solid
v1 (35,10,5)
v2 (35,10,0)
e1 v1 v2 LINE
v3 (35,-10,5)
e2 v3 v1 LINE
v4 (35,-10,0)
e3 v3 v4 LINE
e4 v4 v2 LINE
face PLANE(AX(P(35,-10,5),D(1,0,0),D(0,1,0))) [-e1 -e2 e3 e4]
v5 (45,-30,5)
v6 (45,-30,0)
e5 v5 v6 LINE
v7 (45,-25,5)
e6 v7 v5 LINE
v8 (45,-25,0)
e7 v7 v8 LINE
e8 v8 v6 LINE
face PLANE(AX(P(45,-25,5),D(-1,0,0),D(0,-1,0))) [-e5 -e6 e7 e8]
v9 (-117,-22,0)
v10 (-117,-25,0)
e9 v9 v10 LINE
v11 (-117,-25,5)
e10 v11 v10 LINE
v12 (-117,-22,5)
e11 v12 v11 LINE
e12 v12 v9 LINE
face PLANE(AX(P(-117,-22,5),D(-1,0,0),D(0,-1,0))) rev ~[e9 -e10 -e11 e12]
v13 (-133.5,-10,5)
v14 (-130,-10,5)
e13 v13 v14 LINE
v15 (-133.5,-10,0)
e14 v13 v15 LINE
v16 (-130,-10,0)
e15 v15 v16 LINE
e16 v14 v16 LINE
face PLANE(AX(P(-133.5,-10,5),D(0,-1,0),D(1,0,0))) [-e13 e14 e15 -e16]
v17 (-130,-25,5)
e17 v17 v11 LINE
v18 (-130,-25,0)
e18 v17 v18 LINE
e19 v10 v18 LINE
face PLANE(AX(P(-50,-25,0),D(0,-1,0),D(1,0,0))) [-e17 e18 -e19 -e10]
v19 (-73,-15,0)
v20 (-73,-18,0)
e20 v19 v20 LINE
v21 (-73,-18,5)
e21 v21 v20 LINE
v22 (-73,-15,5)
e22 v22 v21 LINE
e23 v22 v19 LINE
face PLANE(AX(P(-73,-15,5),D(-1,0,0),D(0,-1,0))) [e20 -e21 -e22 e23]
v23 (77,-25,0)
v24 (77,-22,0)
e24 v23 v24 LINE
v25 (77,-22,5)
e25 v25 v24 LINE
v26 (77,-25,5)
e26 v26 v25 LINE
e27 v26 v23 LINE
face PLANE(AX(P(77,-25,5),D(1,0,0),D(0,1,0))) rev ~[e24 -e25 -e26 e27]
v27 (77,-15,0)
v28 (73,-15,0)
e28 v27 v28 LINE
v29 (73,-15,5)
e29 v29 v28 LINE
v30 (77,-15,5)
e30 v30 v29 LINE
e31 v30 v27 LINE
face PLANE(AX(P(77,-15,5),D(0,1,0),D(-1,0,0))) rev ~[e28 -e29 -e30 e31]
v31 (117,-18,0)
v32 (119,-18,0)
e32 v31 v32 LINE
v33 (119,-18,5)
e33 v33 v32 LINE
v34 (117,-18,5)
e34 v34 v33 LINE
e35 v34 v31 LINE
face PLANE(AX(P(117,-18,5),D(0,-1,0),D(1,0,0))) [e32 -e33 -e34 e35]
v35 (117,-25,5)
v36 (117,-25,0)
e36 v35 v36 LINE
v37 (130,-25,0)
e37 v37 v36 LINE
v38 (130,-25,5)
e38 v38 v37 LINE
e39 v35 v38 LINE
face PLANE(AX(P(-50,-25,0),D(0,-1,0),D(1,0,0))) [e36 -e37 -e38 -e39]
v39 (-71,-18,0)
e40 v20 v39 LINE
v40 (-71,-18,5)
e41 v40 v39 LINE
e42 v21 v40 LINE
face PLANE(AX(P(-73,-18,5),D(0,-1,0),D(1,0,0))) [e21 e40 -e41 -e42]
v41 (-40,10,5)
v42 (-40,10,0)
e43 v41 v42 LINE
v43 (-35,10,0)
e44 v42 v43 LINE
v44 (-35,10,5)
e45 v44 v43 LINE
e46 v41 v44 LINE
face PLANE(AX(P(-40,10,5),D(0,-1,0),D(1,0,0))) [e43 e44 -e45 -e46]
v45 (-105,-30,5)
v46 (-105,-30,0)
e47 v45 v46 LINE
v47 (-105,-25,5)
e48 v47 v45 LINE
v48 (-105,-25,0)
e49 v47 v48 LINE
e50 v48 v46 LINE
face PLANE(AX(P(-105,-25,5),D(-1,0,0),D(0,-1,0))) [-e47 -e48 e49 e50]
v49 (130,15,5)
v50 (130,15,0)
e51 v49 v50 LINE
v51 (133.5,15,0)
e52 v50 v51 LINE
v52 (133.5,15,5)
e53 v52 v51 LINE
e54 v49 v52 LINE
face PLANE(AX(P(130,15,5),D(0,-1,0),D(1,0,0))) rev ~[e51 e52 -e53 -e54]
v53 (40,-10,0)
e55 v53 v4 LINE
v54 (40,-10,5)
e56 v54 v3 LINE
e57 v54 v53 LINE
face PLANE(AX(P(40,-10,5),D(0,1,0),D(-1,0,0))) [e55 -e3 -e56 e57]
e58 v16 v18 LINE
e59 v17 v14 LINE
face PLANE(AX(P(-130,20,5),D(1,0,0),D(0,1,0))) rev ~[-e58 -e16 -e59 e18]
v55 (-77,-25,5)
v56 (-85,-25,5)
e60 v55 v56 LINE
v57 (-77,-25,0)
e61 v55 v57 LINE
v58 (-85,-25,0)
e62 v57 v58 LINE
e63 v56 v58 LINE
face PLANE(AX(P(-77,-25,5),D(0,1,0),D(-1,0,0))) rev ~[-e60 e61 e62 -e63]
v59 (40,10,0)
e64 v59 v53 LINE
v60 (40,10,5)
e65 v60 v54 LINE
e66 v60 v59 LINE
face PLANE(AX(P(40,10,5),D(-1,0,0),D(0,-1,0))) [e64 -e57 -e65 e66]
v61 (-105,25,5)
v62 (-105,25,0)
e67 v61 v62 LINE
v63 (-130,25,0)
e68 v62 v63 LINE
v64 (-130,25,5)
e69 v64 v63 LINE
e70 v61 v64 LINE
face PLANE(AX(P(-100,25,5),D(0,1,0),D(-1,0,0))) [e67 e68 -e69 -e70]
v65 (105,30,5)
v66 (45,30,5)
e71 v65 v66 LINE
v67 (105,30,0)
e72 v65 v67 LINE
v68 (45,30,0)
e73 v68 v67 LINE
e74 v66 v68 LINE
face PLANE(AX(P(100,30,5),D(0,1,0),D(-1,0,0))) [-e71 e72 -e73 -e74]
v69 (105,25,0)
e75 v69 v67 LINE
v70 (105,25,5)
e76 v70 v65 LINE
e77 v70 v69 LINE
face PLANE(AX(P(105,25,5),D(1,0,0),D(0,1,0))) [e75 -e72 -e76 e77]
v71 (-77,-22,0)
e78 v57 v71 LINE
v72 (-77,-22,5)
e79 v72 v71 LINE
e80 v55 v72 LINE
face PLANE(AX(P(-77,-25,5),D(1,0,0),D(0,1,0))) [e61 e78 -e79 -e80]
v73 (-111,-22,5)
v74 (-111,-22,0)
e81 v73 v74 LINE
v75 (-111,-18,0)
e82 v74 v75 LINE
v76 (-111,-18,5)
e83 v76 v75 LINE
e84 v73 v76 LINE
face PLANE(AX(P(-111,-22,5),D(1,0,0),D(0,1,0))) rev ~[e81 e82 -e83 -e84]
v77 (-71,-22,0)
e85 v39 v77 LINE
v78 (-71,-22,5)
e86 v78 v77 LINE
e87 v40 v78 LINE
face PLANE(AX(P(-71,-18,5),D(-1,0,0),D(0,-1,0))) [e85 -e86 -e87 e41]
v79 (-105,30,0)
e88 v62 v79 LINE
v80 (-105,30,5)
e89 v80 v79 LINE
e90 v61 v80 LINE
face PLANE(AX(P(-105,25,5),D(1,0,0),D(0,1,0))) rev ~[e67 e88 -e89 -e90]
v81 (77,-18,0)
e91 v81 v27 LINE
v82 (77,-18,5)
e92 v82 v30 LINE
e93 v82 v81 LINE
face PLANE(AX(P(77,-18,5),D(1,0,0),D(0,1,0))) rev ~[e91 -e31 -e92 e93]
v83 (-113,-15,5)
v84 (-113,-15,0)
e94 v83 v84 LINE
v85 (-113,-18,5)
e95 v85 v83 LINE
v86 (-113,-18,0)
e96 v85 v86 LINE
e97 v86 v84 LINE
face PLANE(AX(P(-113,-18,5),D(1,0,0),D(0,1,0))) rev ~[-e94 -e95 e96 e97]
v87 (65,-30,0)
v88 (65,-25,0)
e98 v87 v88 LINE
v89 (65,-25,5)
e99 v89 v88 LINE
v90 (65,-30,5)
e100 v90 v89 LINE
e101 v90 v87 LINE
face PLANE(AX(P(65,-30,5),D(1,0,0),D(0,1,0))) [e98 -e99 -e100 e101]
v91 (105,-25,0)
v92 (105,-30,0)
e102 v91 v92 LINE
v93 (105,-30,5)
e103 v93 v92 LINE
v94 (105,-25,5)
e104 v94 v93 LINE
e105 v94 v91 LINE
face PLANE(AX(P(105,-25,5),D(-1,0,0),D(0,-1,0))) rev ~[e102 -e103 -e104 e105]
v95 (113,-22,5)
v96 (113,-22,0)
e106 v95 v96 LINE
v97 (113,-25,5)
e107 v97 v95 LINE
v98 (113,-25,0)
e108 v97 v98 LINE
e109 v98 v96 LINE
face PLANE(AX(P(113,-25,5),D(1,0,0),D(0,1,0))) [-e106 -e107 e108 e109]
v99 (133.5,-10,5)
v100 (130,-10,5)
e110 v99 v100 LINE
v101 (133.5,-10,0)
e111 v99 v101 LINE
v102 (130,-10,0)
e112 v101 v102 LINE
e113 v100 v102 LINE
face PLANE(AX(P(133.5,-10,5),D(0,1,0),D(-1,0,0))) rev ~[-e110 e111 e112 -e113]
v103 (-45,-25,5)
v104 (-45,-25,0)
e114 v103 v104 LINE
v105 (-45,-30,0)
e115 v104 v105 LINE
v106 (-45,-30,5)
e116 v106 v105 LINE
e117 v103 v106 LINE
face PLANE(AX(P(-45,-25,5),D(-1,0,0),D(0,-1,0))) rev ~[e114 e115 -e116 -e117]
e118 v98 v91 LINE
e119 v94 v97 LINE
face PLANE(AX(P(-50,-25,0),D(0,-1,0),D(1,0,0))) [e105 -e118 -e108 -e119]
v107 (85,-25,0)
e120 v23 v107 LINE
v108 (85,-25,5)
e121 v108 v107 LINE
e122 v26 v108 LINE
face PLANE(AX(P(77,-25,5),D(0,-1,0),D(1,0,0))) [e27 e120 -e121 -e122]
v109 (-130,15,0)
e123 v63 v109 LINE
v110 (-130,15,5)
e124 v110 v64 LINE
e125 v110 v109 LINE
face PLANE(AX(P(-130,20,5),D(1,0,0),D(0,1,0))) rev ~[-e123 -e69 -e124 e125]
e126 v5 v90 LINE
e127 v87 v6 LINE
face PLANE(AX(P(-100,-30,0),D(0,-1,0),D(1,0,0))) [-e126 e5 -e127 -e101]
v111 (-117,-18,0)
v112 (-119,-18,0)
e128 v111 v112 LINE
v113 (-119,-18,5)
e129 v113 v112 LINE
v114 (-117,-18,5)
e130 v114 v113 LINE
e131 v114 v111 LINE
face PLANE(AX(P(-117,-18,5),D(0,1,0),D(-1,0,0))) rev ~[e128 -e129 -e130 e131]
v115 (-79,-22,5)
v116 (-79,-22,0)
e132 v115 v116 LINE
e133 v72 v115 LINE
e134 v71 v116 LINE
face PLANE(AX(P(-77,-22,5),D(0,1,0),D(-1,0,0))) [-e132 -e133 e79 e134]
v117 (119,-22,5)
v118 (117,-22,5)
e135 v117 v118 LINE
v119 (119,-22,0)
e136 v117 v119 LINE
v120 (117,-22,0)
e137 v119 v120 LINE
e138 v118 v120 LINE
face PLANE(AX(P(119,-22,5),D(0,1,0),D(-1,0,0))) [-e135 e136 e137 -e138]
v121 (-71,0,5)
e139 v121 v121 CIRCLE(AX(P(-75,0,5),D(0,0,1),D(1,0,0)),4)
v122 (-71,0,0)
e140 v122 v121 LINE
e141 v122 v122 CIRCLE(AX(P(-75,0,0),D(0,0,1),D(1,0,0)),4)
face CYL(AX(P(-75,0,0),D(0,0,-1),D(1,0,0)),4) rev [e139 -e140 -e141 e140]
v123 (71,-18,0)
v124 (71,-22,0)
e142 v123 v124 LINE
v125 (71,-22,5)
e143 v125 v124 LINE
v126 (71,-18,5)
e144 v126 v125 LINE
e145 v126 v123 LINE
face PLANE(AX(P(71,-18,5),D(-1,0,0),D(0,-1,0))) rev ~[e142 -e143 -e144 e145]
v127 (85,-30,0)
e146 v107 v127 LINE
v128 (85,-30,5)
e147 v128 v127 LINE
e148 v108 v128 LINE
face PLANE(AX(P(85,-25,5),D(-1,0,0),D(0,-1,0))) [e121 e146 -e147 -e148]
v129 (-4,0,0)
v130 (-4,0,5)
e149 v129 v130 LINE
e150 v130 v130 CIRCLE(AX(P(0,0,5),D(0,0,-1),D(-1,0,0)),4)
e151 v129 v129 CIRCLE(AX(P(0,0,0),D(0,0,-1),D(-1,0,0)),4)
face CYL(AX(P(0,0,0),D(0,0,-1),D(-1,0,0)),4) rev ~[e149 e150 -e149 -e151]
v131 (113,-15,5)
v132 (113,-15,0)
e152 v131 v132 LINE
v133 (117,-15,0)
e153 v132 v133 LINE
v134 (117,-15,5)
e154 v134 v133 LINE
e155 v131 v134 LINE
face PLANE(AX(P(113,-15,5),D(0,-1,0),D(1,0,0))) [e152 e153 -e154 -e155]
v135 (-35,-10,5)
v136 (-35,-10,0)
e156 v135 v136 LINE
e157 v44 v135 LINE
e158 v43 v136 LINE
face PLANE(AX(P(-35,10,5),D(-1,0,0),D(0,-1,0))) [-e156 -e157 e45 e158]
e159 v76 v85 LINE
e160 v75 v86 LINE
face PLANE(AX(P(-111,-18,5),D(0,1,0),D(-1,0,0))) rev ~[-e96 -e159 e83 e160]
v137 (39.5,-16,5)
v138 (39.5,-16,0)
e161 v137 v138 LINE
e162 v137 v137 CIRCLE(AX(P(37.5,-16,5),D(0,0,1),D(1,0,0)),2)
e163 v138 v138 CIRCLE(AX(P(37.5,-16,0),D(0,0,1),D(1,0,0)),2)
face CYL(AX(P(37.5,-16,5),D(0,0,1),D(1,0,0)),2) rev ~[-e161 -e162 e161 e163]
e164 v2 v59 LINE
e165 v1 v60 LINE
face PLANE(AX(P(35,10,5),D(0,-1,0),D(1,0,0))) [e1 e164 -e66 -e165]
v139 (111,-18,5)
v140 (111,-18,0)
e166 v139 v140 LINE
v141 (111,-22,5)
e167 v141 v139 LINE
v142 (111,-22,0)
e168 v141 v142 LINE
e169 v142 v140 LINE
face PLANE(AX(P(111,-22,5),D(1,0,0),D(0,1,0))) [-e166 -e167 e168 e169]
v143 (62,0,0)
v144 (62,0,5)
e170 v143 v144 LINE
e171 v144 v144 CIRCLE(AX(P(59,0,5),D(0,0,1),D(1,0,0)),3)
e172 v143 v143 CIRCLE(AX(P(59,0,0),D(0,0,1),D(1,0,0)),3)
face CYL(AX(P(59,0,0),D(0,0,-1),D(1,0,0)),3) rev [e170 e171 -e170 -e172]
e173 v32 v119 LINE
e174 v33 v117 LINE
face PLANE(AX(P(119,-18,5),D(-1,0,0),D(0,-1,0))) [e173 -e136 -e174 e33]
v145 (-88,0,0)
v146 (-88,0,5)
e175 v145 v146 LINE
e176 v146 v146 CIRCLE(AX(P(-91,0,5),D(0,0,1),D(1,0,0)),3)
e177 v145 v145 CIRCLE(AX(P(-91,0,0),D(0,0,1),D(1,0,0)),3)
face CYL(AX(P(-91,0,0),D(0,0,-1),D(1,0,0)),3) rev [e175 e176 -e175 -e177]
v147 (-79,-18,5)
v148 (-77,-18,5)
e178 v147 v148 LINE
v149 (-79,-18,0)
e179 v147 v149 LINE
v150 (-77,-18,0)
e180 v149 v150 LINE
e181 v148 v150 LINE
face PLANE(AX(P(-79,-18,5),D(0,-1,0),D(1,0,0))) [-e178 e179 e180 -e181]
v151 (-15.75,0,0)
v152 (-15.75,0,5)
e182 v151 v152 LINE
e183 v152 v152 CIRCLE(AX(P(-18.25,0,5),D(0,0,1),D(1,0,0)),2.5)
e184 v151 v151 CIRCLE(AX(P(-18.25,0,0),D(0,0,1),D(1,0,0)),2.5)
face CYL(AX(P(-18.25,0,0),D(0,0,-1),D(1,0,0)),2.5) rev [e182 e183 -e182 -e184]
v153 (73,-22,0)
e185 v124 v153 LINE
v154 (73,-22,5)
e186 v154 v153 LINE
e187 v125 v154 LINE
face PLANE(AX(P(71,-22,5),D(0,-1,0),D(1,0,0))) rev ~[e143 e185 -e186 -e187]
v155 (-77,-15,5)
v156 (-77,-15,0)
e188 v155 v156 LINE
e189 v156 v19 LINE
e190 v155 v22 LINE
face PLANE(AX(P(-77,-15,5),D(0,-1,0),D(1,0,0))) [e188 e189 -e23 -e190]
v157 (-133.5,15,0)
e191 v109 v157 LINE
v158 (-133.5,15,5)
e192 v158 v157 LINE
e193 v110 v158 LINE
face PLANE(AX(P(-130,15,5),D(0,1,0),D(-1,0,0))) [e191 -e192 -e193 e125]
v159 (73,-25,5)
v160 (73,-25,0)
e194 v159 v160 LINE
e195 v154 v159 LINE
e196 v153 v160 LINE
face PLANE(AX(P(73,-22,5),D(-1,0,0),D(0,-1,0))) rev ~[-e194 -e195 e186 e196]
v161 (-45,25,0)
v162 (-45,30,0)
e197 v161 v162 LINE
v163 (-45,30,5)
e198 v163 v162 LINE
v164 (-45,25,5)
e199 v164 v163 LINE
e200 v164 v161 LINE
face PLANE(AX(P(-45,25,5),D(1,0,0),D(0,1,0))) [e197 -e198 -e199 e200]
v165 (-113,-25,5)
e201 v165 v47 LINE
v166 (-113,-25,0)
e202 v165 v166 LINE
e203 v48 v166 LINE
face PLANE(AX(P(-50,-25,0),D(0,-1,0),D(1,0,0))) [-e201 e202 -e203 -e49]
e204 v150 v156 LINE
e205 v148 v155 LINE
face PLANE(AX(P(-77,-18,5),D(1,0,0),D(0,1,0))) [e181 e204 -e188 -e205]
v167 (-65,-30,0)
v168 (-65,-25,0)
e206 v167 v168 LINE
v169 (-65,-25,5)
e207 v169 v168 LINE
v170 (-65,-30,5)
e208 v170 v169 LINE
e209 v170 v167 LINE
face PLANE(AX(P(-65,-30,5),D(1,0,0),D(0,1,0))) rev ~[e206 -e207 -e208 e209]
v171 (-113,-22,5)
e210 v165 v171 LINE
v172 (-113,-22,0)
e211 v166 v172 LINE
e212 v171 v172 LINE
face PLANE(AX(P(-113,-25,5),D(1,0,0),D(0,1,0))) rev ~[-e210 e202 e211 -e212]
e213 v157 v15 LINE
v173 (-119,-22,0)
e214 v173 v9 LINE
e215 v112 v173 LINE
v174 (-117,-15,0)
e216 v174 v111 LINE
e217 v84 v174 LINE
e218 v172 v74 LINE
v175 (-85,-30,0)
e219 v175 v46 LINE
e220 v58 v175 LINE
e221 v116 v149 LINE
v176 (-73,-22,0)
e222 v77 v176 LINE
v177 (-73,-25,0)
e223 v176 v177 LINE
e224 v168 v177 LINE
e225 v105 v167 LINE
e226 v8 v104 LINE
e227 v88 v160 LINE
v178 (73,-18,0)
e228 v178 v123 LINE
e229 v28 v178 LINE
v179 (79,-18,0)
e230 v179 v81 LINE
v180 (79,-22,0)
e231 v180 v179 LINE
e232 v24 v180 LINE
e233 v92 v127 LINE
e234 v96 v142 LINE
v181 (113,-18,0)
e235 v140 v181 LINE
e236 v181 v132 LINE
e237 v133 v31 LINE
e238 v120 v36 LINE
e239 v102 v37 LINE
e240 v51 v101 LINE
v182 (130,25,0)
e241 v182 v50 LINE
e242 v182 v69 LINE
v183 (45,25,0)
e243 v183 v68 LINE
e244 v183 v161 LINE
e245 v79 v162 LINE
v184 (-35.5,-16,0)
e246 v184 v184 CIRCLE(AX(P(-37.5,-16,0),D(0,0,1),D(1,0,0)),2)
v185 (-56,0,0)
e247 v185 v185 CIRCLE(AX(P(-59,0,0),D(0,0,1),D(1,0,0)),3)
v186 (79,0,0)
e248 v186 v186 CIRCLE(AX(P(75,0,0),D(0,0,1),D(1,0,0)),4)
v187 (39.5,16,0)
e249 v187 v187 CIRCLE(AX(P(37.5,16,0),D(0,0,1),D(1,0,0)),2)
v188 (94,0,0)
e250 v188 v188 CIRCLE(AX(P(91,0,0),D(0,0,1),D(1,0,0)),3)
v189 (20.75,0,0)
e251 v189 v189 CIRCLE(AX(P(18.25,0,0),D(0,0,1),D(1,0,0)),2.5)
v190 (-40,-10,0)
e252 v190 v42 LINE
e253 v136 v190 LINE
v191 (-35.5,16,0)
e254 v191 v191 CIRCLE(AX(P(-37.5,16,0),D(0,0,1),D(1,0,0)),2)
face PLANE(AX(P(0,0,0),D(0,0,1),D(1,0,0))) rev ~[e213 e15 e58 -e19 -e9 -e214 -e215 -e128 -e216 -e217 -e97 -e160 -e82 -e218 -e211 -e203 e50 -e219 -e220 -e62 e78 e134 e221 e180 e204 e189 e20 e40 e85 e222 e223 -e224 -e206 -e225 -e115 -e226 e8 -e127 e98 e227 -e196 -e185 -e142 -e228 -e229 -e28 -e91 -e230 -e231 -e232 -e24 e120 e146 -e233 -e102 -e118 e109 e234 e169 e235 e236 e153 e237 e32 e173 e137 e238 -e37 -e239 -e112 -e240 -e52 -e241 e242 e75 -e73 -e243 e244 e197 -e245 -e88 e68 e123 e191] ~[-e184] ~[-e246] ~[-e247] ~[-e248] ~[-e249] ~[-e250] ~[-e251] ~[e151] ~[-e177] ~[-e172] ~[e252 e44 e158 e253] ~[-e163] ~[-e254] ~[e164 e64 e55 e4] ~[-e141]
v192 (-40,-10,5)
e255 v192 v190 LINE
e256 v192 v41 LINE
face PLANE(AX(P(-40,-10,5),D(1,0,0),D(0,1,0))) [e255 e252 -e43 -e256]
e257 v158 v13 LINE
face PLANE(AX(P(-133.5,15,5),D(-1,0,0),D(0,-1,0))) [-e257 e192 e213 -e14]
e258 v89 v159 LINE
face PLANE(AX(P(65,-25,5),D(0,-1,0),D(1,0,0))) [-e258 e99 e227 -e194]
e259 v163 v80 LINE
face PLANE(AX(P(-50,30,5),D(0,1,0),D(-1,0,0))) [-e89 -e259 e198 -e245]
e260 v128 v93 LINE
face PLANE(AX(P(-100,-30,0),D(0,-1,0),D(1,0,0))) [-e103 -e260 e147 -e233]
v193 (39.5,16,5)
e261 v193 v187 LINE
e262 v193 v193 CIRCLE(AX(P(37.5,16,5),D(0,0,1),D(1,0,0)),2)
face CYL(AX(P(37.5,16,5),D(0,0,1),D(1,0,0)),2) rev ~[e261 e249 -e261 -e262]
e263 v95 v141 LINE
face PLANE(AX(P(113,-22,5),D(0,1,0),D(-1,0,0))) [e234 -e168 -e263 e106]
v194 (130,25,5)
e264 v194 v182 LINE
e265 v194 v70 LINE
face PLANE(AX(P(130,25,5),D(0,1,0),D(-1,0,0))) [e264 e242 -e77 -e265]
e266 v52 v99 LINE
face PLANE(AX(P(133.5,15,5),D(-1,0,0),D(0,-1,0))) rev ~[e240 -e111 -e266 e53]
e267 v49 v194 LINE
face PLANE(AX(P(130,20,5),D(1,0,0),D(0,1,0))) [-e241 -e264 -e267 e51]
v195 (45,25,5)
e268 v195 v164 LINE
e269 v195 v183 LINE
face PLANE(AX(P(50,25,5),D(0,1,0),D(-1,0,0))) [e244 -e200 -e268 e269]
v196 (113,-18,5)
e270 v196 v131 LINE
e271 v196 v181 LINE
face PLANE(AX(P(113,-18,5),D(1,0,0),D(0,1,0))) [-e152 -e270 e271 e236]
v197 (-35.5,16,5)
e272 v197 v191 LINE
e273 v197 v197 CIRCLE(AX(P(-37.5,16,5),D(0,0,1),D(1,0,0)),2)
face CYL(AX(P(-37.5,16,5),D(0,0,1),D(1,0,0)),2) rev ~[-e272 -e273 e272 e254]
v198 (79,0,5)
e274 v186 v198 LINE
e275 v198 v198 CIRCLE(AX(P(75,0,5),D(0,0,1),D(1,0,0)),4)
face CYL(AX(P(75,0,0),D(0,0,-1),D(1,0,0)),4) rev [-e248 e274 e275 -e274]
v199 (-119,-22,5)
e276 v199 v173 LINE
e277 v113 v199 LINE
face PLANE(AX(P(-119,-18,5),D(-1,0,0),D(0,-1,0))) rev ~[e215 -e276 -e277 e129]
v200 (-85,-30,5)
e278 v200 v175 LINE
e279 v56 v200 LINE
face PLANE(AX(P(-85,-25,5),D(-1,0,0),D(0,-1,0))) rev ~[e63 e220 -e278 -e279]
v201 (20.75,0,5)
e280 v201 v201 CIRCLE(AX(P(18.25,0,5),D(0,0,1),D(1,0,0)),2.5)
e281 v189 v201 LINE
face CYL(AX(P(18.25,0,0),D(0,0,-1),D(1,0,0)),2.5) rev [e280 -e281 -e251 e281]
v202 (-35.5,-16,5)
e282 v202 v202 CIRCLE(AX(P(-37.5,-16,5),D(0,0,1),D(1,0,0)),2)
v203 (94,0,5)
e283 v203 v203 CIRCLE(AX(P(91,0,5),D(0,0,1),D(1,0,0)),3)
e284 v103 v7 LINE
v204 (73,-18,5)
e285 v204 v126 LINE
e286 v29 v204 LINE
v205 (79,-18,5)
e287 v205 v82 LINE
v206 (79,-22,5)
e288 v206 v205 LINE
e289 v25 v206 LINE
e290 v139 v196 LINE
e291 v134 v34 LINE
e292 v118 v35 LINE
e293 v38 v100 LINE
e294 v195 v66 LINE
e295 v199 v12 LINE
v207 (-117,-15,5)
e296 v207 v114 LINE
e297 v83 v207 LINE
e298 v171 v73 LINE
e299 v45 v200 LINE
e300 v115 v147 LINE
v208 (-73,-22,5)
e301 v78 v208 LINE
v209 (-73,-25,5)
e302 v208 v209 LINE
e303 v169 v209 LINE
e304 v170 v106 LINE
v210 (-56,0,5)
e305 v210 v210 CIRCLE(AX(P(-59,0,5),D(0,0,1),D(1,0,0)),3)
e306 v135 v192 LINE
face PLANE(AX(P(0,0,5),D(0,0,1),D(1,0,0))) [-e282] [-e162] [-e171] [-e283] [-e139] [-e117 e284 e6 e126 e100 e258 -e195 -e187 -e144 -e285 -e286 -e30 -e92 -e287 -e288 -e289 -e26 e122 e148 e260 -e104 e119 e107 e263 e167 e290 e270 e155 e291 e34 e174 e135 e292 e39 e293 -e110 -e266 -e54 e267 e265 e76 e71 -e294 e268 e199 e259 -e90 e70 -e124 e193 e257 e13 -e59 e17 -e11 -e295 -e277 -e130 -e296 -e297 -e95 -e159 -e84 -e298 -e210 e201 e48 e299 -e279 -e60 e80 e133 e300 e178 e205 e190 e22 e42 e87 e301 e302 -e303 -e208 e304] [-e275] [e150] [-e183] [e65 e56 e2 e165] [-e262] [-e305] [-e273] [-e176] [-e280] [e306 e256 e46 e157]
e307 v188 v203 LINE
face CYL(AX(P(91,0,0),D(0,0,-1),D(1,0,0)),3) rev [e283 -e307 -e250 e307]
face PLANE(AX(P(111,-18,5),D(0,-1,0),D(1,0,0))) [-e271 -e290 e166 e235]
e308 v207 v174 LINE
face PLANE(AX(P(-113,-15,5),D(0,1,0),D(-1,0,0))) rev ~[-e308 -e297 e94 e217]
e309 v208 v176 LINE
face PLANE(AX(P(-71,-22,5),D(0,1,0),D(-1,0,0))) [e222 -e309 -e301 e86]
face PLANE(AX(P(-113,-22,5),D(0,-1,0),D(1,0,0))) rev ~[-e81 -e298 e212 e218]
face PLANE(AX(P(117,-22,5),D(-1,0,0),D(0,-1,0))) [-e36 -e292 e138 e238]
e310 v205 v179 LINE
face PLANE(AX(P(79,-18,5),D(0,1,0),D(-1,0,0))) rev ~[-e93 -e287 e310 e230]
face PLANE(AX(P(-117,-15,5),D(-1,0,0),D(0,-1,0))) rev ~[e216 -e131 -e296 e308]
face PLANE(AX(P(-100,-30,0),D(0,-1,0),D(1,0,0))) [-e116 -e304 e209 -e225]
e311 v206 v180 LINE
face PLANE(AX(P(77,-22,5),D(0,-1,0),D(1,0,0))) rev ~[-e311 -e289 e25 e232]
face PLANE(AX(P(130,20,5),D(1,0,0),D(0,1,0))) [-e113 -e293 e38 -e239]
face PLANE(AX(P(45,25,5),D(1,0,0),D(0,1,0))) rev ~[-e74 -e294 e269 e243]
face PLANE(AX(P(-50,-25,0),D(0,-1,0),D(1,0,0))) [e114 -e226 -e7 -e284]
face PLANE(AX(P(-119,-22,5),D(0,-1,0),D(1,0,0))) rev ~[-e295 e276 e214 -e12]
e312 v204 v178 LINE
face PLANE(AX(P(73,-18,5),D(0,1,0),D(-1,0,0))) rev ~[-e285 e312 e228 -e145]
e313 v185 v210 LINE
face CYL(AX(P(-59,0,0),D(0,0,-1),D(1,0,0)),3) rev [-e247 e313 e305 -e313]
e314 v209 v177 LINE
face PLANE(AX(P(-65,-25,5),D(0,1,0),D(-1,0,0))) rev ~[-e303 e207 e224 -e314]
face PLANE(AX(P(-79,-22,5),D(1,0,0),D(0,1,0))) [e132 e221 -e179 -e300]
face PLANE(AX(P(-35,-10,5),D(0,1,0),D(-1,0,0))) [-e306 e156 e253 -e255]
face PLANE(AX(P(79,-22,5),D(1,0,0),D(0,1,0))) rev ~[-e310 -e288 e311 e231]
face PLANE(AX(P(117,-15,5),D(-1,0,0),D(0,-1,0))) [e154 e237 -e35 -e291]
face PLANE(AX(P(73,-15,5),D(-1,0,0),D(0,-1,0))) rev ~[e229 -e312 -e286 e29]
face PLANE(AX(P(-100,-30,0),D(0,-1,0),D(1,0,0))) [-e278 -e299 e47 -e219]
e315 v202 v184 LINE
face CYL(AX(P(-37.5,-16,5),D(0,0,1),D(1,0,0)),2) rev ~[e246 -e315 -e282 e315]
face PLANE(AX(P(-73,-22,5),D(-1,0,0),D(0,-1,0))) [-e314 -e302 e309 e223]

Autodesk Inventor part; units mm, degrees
ref_plane "YZ Plane" through (0, 0, 0) normal (1, 0, 0) x (0, 1, 0)
ref_plane "XZ Plane" through (0, 0, 0) normal (0, 1, 0) x (-1, 0, 0)
ref_plane "XY Plane" through (0, 0, 0) normal (0, 0, 1) x (1, 0, 0)
sketch "Sketch1" plane through (0, 0, 0) normal (0, 0, 1) x (1, 0, 0)
  arc A0 (19, -20) -> (20, -19) centre (19, -19) ccw construction
  line L0 (20, -19) -> (20, 19) construction
  arc A1 (20, 19) -> (19, 20) centre (19, 19) ccw construction
  line L1 (19, 20) -> (-19, 20) construction
  arc A2 (-19, 20) -> (-20, 19) centre (-19, 19) ccw construction
  line L2 (-20, 19) -> (-20, -19) construction
  arc A3 (-20, -19) -> (-19, -20) centre (-19, -19) ccw construction
  line L3 (-19, -20) -> (19, -20) construction
  circle A4 centre (-15.5, -15.5) radius 2 construction
  circle A5 centre (15.5, -15.5) radius 2.2846 construction
  circle A6 centre (15.5, 15.5) radius 2 construction
  circle A7 centre (-15.5, 15.5) radius 2 construction
  circle A8 centre (0, 0) radius 11 construction
  line L4 (150, -20) -> (150, 20)
  line L5 (150, 20) -> (-150, 20)
  line L6 (-150, 20) -> (-150, -20)
  line L7 (-150, -20) -> (150, 20) construction
  line L8 (150, -20) -> (-150, 20) construction
  line L9 (50, -20) -> (100, -20) construction
  line L10 (100, -20) -> (100, -25)
  line L11 (100, -25) -> (50, -25)
  line L12 (50, -25) -> (50, -20)
  line L13 (100, -20) -> (150, -20)
  line L14 (-150, -20) -> (50, -20) construction
  line L15 (-150, -20) -> (-100, -20)
  line L16 (-100, -20) -> (-100, -25)
  line L17 (-100, -25) -> (-50, -25)
  line L18 (-50, -25) -> (-50, -20)
  line L19 (-50, -20) -> (50, -20)
  circle A9 centre (-91, 0) radius 3
  circle A10 centre (-59, 0) radius 3
  circle A11 centre (59, 0) radius 3
  circle A12 centre (91, 0) radius 3
  arc A13 (20.5788, -4.4246) -> (20.5788, 4.4246) centre (18.25, 0) ccw construction
  line L20 (6.2877, 11.9463) -> (20.5788, 4.4246) construction
  arc A14 (6.2877, 11.9463) -> (-6.2877, 11.9463) centre (0, 0) ccw construction
  line L21 (-20.5788, 4.4246) -> (-6.2877, 11.9463) construction
  arc A15 (-20.5788, 4.4246) -> (-20.5788, -4.4246) centre (-18.25, 0) ccw construction
  line L22 (-6.2877, -11.9463) -> (-20.5788, -4.4246) construction
  arc A16 (-6.2877, -11.9463) -> (6.2877, -11.9463) centre (0, 0) ccw construction
  line L23 (20.5788, -4.4246) -> (6.2877, -11.9463) construction
  circle A17 centre (18.25, 0) radius 2.5
  circle A18 centre (-18.25, 0) radius 2.5
  line L24 (-5.4726, 10.3977) -> (-17.0094, 4.3256) construction
  arc A19 (5.4726, 10.3977) -> (-5.4726, 10.3977) centre (0, 0) ccw construction
  line L25 (17.0094, 4.3256) -> (5.4726, 10.3977) construction
  arc A20 (17.0094, 4.3256) -> (17.0094, -4.3256) centre (18.25, 0) ccw construction
  line L26 (5.4726, -10.3977) -> (17.0094, -4.3256) construction
  arc A21 (-5.4726, -10.3977) -> (5.4726, -10.3977) centre (0, 0) ccw construction
  line L27 (-17.0094, -4.3256) -> (-5.4726, -10.3977) construction
  arc A22 (-17.0094, -4.3256) -> (-17.0094, 4.3256) centre (-18.25, 0) ccw construction
  circle A23 centre (-75, 0) radius 4
  circle A24 centre (75, 0) radius 4
  dimension "d1" = 50
  dimension "d2" = 5
  dimension "d3" = 50
  dimension "d4" = 50
  dimension "d5" = 50
  dimension "d6" = 6
  dimension "d7" = 6
  dimension "d8" = 32
  dimension "d9" = 6
  dimension "d10" = 6
  dimension "d11" = 32
  dimension "d12" = 59
  dimension "d13" = 59
  dimension "d16" = 8
  dimension "d17" = 16
  dimension "d18" = 8
  dimension "d19" = 16
  dimension "d29" = 100
  dimension "d30" = 40
  dimension "d31" = 40
extrude "Extrusion2" add sketch "Sketch1" along normal blind 5
sketch "Sketch2" plane through (0, 0, 0) normal (0, 0, -1) x (-1, 0, 0)
  circle A0 centre (0, 0) radius 4
  dimension "d22" = 8
extrude "Extrusion3" cut sketch "Sketch2" against normal blind 5
sketch "Sketch3" plane through (-100, -25, 0) normal (0, -1, 0) x (1, 0, 0)
  line L0 (50, 0) -> (0, 0) projected
  line L1 (50, 0) -> (50, 5) projected
  line L2 (0, 5) -> (50, 5) projected
  line L3 (0, 0) -> (0, 5) projected
  line L4 (200, 0) -> (150, 0) projected
  line L5 (200, 0) -> (200, 5) projected
  line L6 (150, 5) -> (200, 5) projected
  line L7 (150, 0) -> (150, 5) projected
  point P0 (100, 0)
extrude "Extrusion4" add sketch "Sketch3" along normal blind 5
sketch "Sketch4" plane through (-50, -20, 0) normal (0, -1, 0) x (1, 0, 0)
  line L0 (-50, 0) -> (-100, 0) projected
  line L1 (-50, 0) -> (-50, 5) projected
  line L2 (-100, 5) -> (-50, 5) projected
  line L3 (-100, 0) -> (-100, 5) projected
  line L4 (100, 0) -> (0, 0) projected
  line L5 (100, 0) -> (100, 5) projected
  line L6 (0, 5) -> (100, 5) projected
  line L7 (0, 0) -> (0, 5) projected
  line L8 (200, 0) -> (150, 0) projected
  line L9 (200, 0) -> (200, 5) projected
  line L10 (150, 5) -> (200, 5) projected
  line L11 (150, 0) -> (150, 5) projected
  point P0 (50, 0)
extrude "Extrusion5" add sketch "Sketch4" along normal blind 5
sketch "Sketch5" plane through (0, 0, 5) normal (0, 0, 1) x (1, 0, 0)
  circle A0 centre (0, 0) radius 4 construction
  circle A1 centre (75, 0) radius 4 construction
  circle A2 centre (-75, 0) radius 4 construction
  circle A3 centre (91, 0) radius 3 construction
  circle A4 centre (59, 0) radius 3 construction
  circle A5 centre (-59, 0) radius 3 construction
  circle A6 centre (-91, 0) radius 3 construction
  circle A7 centre (-18.25, 0) radius 2.5 construction
  circle A8 centre (18.25, 0) radius 2.5 construction
  line L0 (150, 20) -> (150, -25) construction
  line L1 (150, 20) -> (-150, 20) construction
  line L2 (-150, 20) -> (-150, -25) construction
  line L3 (-100, -25) -> (-150, -25) construction
  line L4 (-100, -25) -> (-100, -30) construction
  line L5 (-50, -30) -> (-100, -30) construction
  line L6 (-50, -25) -> (-50, -30) construction
  line L7 (50, -25) -> (-50, -25) construction
  line L8 (50, -25) -> (50, -30) construction
  line L9 (100, -30) -> (50, -30) construction
  line L10 (100, -25) -> (100, -30) construction
  line L11 (150, -25) -> (100, -25) construction
  line L12 (150, 20) -> (-150, 20) projected
  line L13 (-150, 20) -> (-130, 20)
  line L14 (-130, 20) -> (-130, -25)
  line L15 (-130, -25) -> (-150, -25)
  line L16 (-150, -25) -> (-150, 20)
  line L17 (100, -25) -> (150, -25) projected
  line L18 (150, 20) -> (130, 20)
  line L19 (130, 20) -> (130, -25)
  line L20 (130, -25) -> (150, -25)
  line L21 (150, -25) -> (150, 20)
  dimension "d32" = 20
  dimension "d33" = 20
extrude "Extrusion6" cut sketch "Sketch5" against normal blind 5
sketch "Sketch6" plane through (0, 0, 5) normal (0, 0, 1) x (1, 0, 0)
  line L0 (-130, 20) -> (-130, -25) construction
  line L1 (-100, -25) -> (-130, -25) construction
  line L2 (-100, -25) -> (-100, -30) construction
  line L3 (-50, -30) -> (-100, -30) construction
  line L4 (-50, -25) -> (-50, -30) construction
  line L5 (50, -25) -> (-50, -25) construction
  line L6 (50, -25) -> (50, -30) construction
  line L7 (100, -30) -> (50, -30) construction
  line L8 (100, -25) -> (100, -30) construction
  line L9 (130, -25) -> (100, -25) construction
  line L10 (130, -25) -> (130, 20) construction
  line L11 (130, 20) -> (-130, 20) construction
  circle A0 centre (0, 0) radius 4 construction
  circle A1 centre (75, 0) radius 4 construction
  circle A2 centre (-75, 0) radius 4 construction
  circle A3 centre (91, 0) radius 3 construction
  circle A4 centre (59, 0) radius 3 construction
  circle A5 centre (-59, 0) radius 3 construction
  circle A6 centre (-91, 0) radius 3 construction
  circle A7 centre (-18.25, 0) radius 2.5 construction
  circle A8 centre (18.25, 0) radius 2.5 construction
  line L12 (-130, 20) -> (130, 20) construction
  line L13 (130, 20) -> (130, 25) construction
  line L14 (130, 25) -> (-130, 25) construction
  line L15 (-130, 25) -> (-130, 20) construction
  line L16 (-100, 25) -> (-50, 25) construction
  line L17 (-50, 25) -> (-50, 30) construction
  line L18 (-50, 30) -> (-100, 30) construction
  line L19 (-100, 30) -> (-100, 25) construction
  line L20 (50, 25) -> (100, 25) construction
  line L21 (100, 25) -> (100, 30) construction
  line L22 (100, 30) -> (50, 30) construction
  line L23 (50, 30) -> (50, 25) construction
  line L24 (130, 20) -> (-130, 20) projected
  line L25 (-130, 20) -> (130, 20)
  line L26 (130, 20) -> (130, 25)
  line L27 (130, 25) -> (100, 25)
  line L28 (100, 25) -> (100, 30)
  line L29 (100, 30) -> (50, 30)
  line L30 (50, 30) -> (50, 25)
  line L31 (50, 25) -> (-50, 25)
  line L32 (-50, 25) -> (-50, 30)
  line L33 (-50, 30) -> (-100, 30)
  line L34 (-100, 30) -> (-100, 25)
  line L35 (-100, 25) -> (-130, 25)
  line L36 (-130, 20) -> (-130, 25)
  dimension "d36" = 5
  dimension "d37" = 5
  dimension "d38" = 5
extrude "Extrusion7" add sketch "Sketch6" against normal blind 5
sketch "Sketch8" plane through (0, 0, 5) normal (0, 0, 1) x (1, 0, 0)
  line L0 (-130, 25) -> (-130, -25) construction
  line L1 (-100, -25) -> (-130, -25) construction
  line L2 (-100, -25) -> (-100, -30) construction
  line L3 (-50, -30) -> (-100, -30) construction
  line L4 (-50, -25) -> (-50, -30) construction
  line L5 (50, -25) -> (-50, -25) construction
  line L6 (50, -25) -> (50, -30) construction
  line L7 (100, -30) -> (50, -30) construction
  line L8 (100, -25) -> (100, -30) construction
  line L9 (130, -25) -> (100, -25) construction
  line L10 (130, -25) -> (130, 25) construction
  line L11 (130, 25) -> (100, 25) construction
  line L12 (100, 25) -> (100, 30) construction
  line L13 (100, 30) -> (50, 30) construction
  line L14 (50, 30) -> (50, 25) construction
  line L15 (50, 25) -> (-50, 25) construction
  line L16 (-50, 25) -> (-50, 30) construction
  line L17 (-50, 30) -> (-100, 30) construction
  line L18 (-100, 30) -> (-100, 25) projected
  line L19 (-100, 25) -> (-130, 25) construction
  circle A0 centre (0, 0) radius 4 construction
  circle A1 centre (75, 0) radius 4 construction
  circle A2 centre (-75, 0) radius 4 construction
  circle A3 centre (91, 0) radius 3 construction
  circle A4 centre (59, 0) radius 3 construction
  circle A5 centre (-59, 0) radius 3 construction
  circle A6 centre (-91, 0) radius 3 construction
  circle A7 centre (-18.25, 0) radius 2.5 construction
  circle A8 centre (18.25, 0) radius 2.5 construction
  line L20 (-100, 25) -> (-105, 25)
  line L21 (-105, 25) -> (-105, 30)
  line L22 (-105, 30) -> (-100, 30)
  line L23 (-100, 30) -> (-100, 25)
  line L24 (-50, 25) -> (-45, 25)
  line L25 (-45, 25) -> (-45, 30)
  line L26 (-45, 30) -> (-50, 30)
  line L27 (-50, 30) -> (-50, 25)
  line L28 (-100, -25) -> (-130, -25) construction
  line L29 (-100, -25) -> (-105, -25)
  line L30 (-105, -25) -> (-105, -30)
  line L31 (-105, -30) -> (-100, -30)
  line L32 (-100, -30) -> (-100, -25)
  line L33 (-50, -25) -> (50, -25) construction
  line L34 (-50, -25) -> (-45, -25)
  line L35 (-45, -25) -> (-45, -30)
  line L36 (-45, -30) -> (-50, -30)
  line L37 (-50, -30) -> (-50, -25)
  line L38 (50, -25) -> (45, -25)
  line L39 (45, -25) -> (45, -30)
  line L40 (45, -30) -> (50, -30)
  line L41 (50, -30) -> (50, -25)
  line L42 (50, 25) -> (45, 25)
  line L43 (45, 25) -> (45, 30)
  line L44 (45, 30) -> (50, 30)
  line L45 (50, 30) -> (50, 25)
  line L46 (100, 25) -> (105, 25)
  line L47 (105, 25) -> (105, 30)
  line L48 (105, 30) -> (100, 30)
  line L49 (100, 30) -> (100, 25)
  line L50 (130, -25) -> (100, -25) projected
  line L51 (100, -25) -> (105, -25)
  line L52 (105, -25) -> (105, -30)
  line L53 (105, -30) -> (100, -30)
  line L54 (100, -30) -> (100, -25)
  dimension "d43" = 5
  dimension "d44" = 5
  dimension "d45" = 5
  dimension "d46" = 5
extrude "Extrusion9" add sketch "Sketch8" against normal blind 5
sketch "Sketch9" plane through (0, 0, 5) normal (0, 0, 1) x (1, 0, 0)
  line L0 (-130, 25) -> (-130, -25) construction
  line L1 (-105, -25) -> (-130, -25) construction
  line L2 (-105, -25) -> (-105, -30) construction
  line L3 (-45, -30) -> (-105, -30) construction
  line L4 (-45, -25) -> (-45, -30) construction
  line L5 (45, -25) -> (-45, -25) construction
  line L6 (45, -25) -> (45, -30) construction
  line L7 (105, -30) -> (45, -30) construction
  line L8 (105, -25) -> (105, -30) construction
  line L9 (130, -25) -> (105, -25) construction
  line L10 (130, -25) -> (130, 25) construction
  line L11 (130, 25) -> (105, 25) construction
  line L12 (105, 25) -> (105, 30) construction
  line L13 (105, 30) -> (45, 30) construction
  line L14 (45, 25) -> (45, 30) construction
  line L15 (45, 25) -> (-45, 25) construction
  line L16 (-45, 25) -> (-45, 30) construction
  line L17 (-45, 30) -> (-105, 30) construction
  line L18 (-105, 25) -> (-105, 30) construction
  line L19 (-105, 25) -> (-130, 25) construction
  circle A0 centre (0, 0) radius 4 construction
  circle A1 centre (75, 0) radius 4 construction
  circle A2 centre (-75, 0) radius 4 construction
  circle A3 centre (91, 0) radius 3 construction
  circle A4 centre (59, 0) radius 3 construction
  circle A5 centre (-59, 0) radius 3 construction
  circle A6 centre (-91, 0) radius 3 construction
  circle A7 centre (-18.25, 0) radius 2.5 construction
  circle A8 centre (18.25, 0) radius 2.5 construction
  line L20 (-105, -30) -> (-85, -30) construction
  line L21 (-45, -30) -> (-105, -30) construction
  line L22 (-85, -30) -> (-65, -30)
  line L23 (-65, -30) -> (-65, -25)
  line L24 (-85, -25) -> (-85, -30)
  line L25 (105, -30) -> (85, -30) construction
  line L26 (105, -30) -> (45, -30) construction
  line L27 (85, -30) -> (65, -30)
  line L28 (65, -30) -> (65, -25)
  line L29 (85, -25) -> (85, -30)
  line L30 (-130, 30) -> (-130, -25) construction
  line L31 (-105, -25) -> (-130, -25) construction
  line L32 (-105, -30) -> (-105, -25) construction
  line L33 (-85, -30) -> (-105, -30) construction
  line L34 (-85, -25) -> (-85, -30) construction
  line L35 (-65, -25) -> (-65, -30) construction
  line L36 (-65, -30) -> (-45, -30) construction
  line L37 (-45, -30) -> (-45, -25) construction
  line L38 (45, -25) -> (-45, -25) construction
  line L39 (45, -30) -> (45, -25) construction
  line L40 (65, -30) -> (45, -30) construction
  line L41 (65, -25) -> (65, -30) construction
  line L42 (85, -25) -> (85, -30) construction
  line L43 (85, -30) -> (105, -30) construction
  line L44 (105, -30) -> (105, -25) construction
  line L45 (130, -25) -> (105, -25) construction
  line L46 (130, -25) -> (130, 30) construction
  line L47 (130, 30) -> (105, 30) construction
  line L48 (105, 30) -> (105, 35) construction
  line L49 (105, 35) -> (45, 35) construction
  line L50 (45, 35) -> (45, 30) construction
  line L51 (45, 30) -> (-45, 30) construction
  line L52 (-45, 30) -> (-45, 35) construction
  line L53 (-45, 35) -> (-105, 35) construction
  line L54 (-105, 35) -> (-105, 30) construction
  line L55 (-105, 30) -> (-130, 30) construction
  line L56 (-45, -10) -> (-45, 15) construction
  line L57 (-45, 15) -> (-40, 15) construction
  line L58 (-40, 15) -> (-40, -10) construction
  line L59 (-40, -10) -> (-45, -10) construction
  line L60 (45, 15) -> (45, -10) construction
  line L61 (45, -10) -> (40, -10) construction
  line L62 (40, -10) -> (40, 15) construction
  line L63 (40, 15) -> (45, 15) construction
  circle A9 centre (0, 0) radius 11 construction
  circle A10 centre (75, 0) radius 4 construction
  circle A11 centre (-75, 0) radius 4 construction
  circle A12 centre (91, 0) radius 3 construction
  circle A13 centre (59, 0) radius 3 construction
  circle A14 centre (-59, 0) radius 3 construction
  circle A15 centre (-91, 0) radius 3 construction
  circle A16 centre (15.5, -15.5) radius 2.2846 construction
  circle A17 centre (-15.5, 15.5) radius 2 construction
  circle A18 centre (15.5, 15.5) radius 2 construction
  circle A19 centre (-15.5, -15.5) radius 2 construction
  line L64 (-85, -25) -> (-77, -25) construction
  line L65 (-77, -25) -> (-73, -25) construction
  line L66 (-73, -25) -> (-73, -15) construction
  line L67 (-73, -15) -> (-77, -15) construction
  line L68 (-77, -15) -> (-77, -25) construction
  line L69 (-75, -15) -> (-75, -25) construction
  line L70 (-71, -22) -> (-79, -22) construction
  line L71 (-79, -22) -> (-79, -18) construction
  line L72 (-79, -18) -> (-71, -18) construction
  line L73 (-71, -18) -> (-71, -22) construction
  line L74 (-71, -22) -> (-79, -18) construction
  line L75 (-79, -22) -> (-71, -18) construction
  line L76 (-77, -25) -> (-77, -22)
  line L77 (-77, -22) -> (-79, -22)
  line L78 (-79, -22) -> (-79, -18)
  line L79 (-79, -18) -> (-77, -18)
  line L80 (-77, -18) -> (-77, -15)
  line L81 (-77, -15) -> (-73, -15)
  line L82 (-73, -15) -> (-73, -18)
  line L83 (-73, -18) -> (-71, -18)
  line L84 (-71, -18) -> (-71, -22)
  line L85 (-71, -22) -> (-73, -22)
  line L86 (-73, -22) -> (-73, -25)
  line L87 (-85, -30) -> (-105, -30) construction
  line L88 (-95, -30) -> (-95, 35) construction
  line L89 (-45, 30) -> (45, 30) construction
  line L90 (0, 30) -> (0, -25) construction
  line L91 (-119, -22) -> (-117, -22)
  line L92 (-113, -22) -> (-111, -22)
  line L93 (-119, -22) -> (-111, -22) construction
  line L94 (-111, -18) -> (-113, -18)
  line L95 (-111, -18) -> (-119, -18) construction
  line L96 (-111, -22) -> (-111, -18) construction
  line L97 (-111, -22) -> (-111, -18)
  line L98 (-111, -22) -> (-119, -18) construction
  line L99 (-119, -22) -> (-111, -18) construction
  line L100 (-117, -25) -> (-117, -15) construction
  line L101 (-113, -15) -> (-113, -25) construction
  line L102 (-115, -15) -> (-115, -25) construction
  line L103 (-117, -18) -> (-119, -18)
  line L104 (-119, -18) -> (-119, -22)
  line L105 (-117, -15) -> (-113, -15) construction
  line L106 (-113, -18) -> (-113, -15)
  line L107 (-117, -15) -> (-117, -18)
  line L108 (-119, -18) -> (-119, -22) construction
  line L109 (-113, -25) -> (-117, -25) construction
  line L110 (-113, -25) -> (-113, -22)
  line L111 (-117, -25) -> (-113, -25)
  line L112 (-117, -22) -> (-117, -25)
  line L113 (-113, -15) -> (-117, -15)
  line L114 (77, -18) -> (77, -15)
  line L115 (77, -15) -> (73, -15)
  line L116 (73, -15) -> (77, -15) construction
  line L117 (73, -15) -> (73, -18)
  line L118 (73, -25) -> (73, -15) construction
  line L119 (75, -15) -> (75, -25) construction
  line L120 (77, -15) -> (77, -25) construction
  line L121 (85, -25) -> (77, -25) construction
  line L122 (113, -25) -> (113, -22)
  line L123 (113, -18) -> (113, -15)
  line L124 (117, -15) -> (117, -18)
  line L125 (117, -15) -> (113, -15) construction
  line L126 (113, -15) -> (117, -15)
  line L127 (111, -18) -> (113, -18)
  line L128 (117, -18) -> (119, -18)
  line L129 (115, -15) -> (115, -25) construction
  line L130 (113, -15) -> (113, -25) construction
  line L131 (117, -25) -> (117, -15) construction
  line L132 (111, -22) -> (111, -18) construction
  line L133 (119, -22) -> (117, -22)
  line L134 (119, -18) -> (119, -22) construction
  line L135 (119, -18) -> (119, -22)
  line L136 (111, -18) -> (119, -18) construction
  line L137 (117, -22) -> (117, -25)
  line L138 (111, -22) -> (119, -18) construction
  line L139 (119, -22) -> (111, -22) construction
  line L140 (119, -22) -> (111, -18) construction
  line L141 (113, -25) -> (117, -25) construction
  line L142 (117, -25) -> (113, -25)
  line L143 (111, -22) -> (111, -18)
  line L144 (113, -22) -> (111, -22)
  line L145 (73, -22) -> (73, -25)
  line L146 (77, -25) -> (77, -22)
  line L147 (77, -22) -> (79, -22)
  line L148 (79, -18) -> (77, -18)
  line L149 (79, -22) -> (79, -18)
  line L150 (79, -22) -> (79, -18) construction
  line L151 (79, -18) -> (71, -18) construction
  line L152 (71, -22) -> (79, -18) construction
  line L153 (71, -22) -> (79, -22) construction
  line L154 (79, -22) -> (71, -18) construction
  line L155 (71, -18) -> (71, -22) construction
  line L156 (73, -18) -> (71, -18)
  line L157 (71, -18) -> (71, -22)
  line L158 (71, -22) -> (73, -22)
  line L159 (-65, -25) -> (-73, -25)
  line L160 (-77, -25) -> (-85, -25)
  line L161 (-65, -25) -> (-73, -25) construction
  line L162 (-75, -25) -> (-85, -25) construction
  line L163 (-65, -25) -> (-73, -25) construction
  line L164 (-75, -25) -> (-85, -25) construction
  line L165 (65, -25) -> (73, -25)
  line L166 (77, -25) -> (85, -25)
  line L167 (85, -25) -> (75, -25) construction
  line L168 (73, -25) -> (65, -25) construction
  point P0 (-75, -20)
  point P1 (-115, -20)
  point P2 (115, -20)
  point P3 (75, -20)
  dimension "d49" = 20
  dimension "d50" = 20
  dimension "d51" = 20
  dimension "d52" = 20
  dimension "d53" = 8
  dimension "d54" = 4
  dimension "d55" = 10
  dimension "d56" = 8
  dimension "d57" = 4
extrude "Extrusion10" cut sketch "Sketch9" against normal blind 5
sketch "Sketch10" plane through (0, 0, 5) normal (0, 0, 1) x (1, 0, 0)
  circle A0 centre (18.25, 0) radius 2.5 construction
  circle A1 centre (-18.25, 0) radius 2.5 construction
  circle A2 centre (-91, 0) radius 3 construction
  circle A3 centre (-59, 0) radius 3 construction
  circle A4 centre (59, 0) radius 3 construction
  circle A5 centre (91, 0) radius 3 construction
  circle A6 centre (-75, 0) radius 4 construction
  circle A7 centre (75, 0) radius 4 construction
  circle A8 centre (0, 0) radius 4 construction
  line L0 (-85, -30) -> (-85, -25) construction
  line L1 (-85, -25) -> (-77, -25) construction
  line L2 (-77, -25) -> (-77, -22) construction
  line L3 (-77, -22) -> (-79, -22) construction
  line L4 (-79, -22) -> (-79, -18) construction
  line L5 (-79, -18) -> (-77, -18) construction
  line L6 (-77, -18) -> (-77, -15) construction
  line L7 (-77, -15) -> (-73, -15) construction
  line L8 (-73, -15) -> (-73, -18) construction
  line L9 (-73, -18) -> (-71, -18) construction
  line L10 (-71, -18) -> (-71, -22) construction
  line L11 (-71, -22) -> (-73, -22) construction
  line L12 (-73, -22) -> (-73, -25) construction
  line L13 (-73, -25) -> (-65, -25) construction
  line L14 (-65, -25) -> (-65, -30) construction
  line L15 (-45, -30) -> (-65, -30) construction
  line L16 (-45, -25) -> (-45, -30) construction
  line L17 (45, -25) -> (-45, -25) construction
  line L18 (45, -25) -> (45, -30) construction
  line L19 (65, -30) -> (45, -30) construction
  line L20 (65, -30) -> (65, -25) construction
  line L21 (65, -25) -> (73, -25) construction
  line L22 (73, -25) -> (73, -22) construction
  line L23 (73, -22) -> (71, -22) construction
  line L24 (71, -22) -> (71, -18) construction
  line L25 (71, -18) -> (73, -18) construction
  line L26 (73, -18) -> (73, -15) construction
  line L27 (73, -15) -> (77, -15) construction
  line L28 (77, -15) -> (77, -18) construction
  line L29 (77, -18) -> (79, -18) construction
  line L30 (79, -18) -> (79, -22) construction
  line L31 (79, -22) -> (77, -22) construction
  line L32 (77, -22) -> (77, -25) construction
  line L33 (77, -25) -> (85, -25) construction
  line L34 (85, -25) -> (85, -30) construction
  line L35 (105, -30) -> (85, -30) construction
  line L36 (105, -25) -> (105, -30) construction
  line L37 (113, -25) -> (105, -25) construction
  line L38 (113, -25) -> (113, -22) construction
  line L39 (113, -22) -> (111, -22) construction
  line L40 (111, -22) -> (111, -18) construction
  line L41 (111, -18) -> (113, -18) construction
  line L42 (113, -18) -> (113, -15) construction
  line L43 (113, -15) -> (117, -15) construction
  line L44 (117, -15) -> (117, -18) construction
  line L45 (117, -18) -> (119, -18) construction
  line L46 (119, -18) -> (119, -22) construction
  line L47 (119, -22) -> (117, -22) construction
  line L48 (117, -22) -> (117, -25) construction
  line L49 (130, -25) -> (117, -25) construction
  line L50 (130, -25) -> (130, 25) construction
  line L51 (130, 25) -> (105, 25) construction
  line L52 (105, 25) -> (105, 30) construction
  line L53 (105, 30) -> (45, 30) construction
  line L54 (45, 25) -> (45, 30) construction
  line L55 (45, 25) -> (-45, 25) construction
  line L56 (-45, 25) -> (-45, 30) construction
  line L57 (-45, 30) -> (-105, 30) construction
  line L58 (-105, 25) -> (-105, 30) construction
  line L59 (-105, 25) -> (-130, 25) construction
  line L60 (-130, 25) -> (-130, -25) construction
  line L61 (-117, -25) -> (-130, -25) construction
  line L62 (-117, -25) -> (-117, -22) construction
  line L63 (-117, -22) -> (-119, -22) construction
  line L64 (-119, -22) -> (-119, -18) construction
  line L65 (-119, -18) -> (-117, -18) construction
  line L66 (-117, -18) -> (-117, -15) construction
  line L67 (-117, -15) -> (-113, -15) construction
  line L68 (-113, -15) -> (-113, -18) construction
  line L69 (-113, -18) -> (-111, -18) construction
  line L70 (-111, -18) -> (-111, -22) construction
  line L71 (-111, -22) -> (-113, -22) construction
  line L72 (-113, -22) -> (-113, -25) construction
  line L73 (-105, -25) -> (-113, -25) construction
  line L74 (-105, -25) -> (-105, -30) construction
  line L75 (-85, -30) -> (-105, -30) construction
  line L76 (-130, 0) -> (130, 0) construction
  line L77 (-35, -10) -> (-40, -10)
  line L78 (-40, -10) -> (-40, 10)
  line L79 (-40, 10) -> (-35, 10)
  line L80 (-35, 10) -> (-35, -10)
  line L81 (-35, -10) -> (-40, 10) construction
  line L82 (-40, -10) -> (-35, 10) construction
  line L83 (40, -10) -> (35, -10)
  line L84 (35, -10) -> (35, 10)
  line L85 (35, 10) -> (40, 10)
  line L86 (40, 10) -> (40, -10)
  line L87 (40, -10) -> (35, 10) construction
  line L88 (35, -10) -> (40, 10) construction
  line L89 (0, 25) -> (0, -25) construction
  line L90 (-45, -25) -> (45, -25) construction
  line L91 (-37.5, -25) -> (-37.5, 25) construction
  line L92 (37.5, -25) -> (37.5, 25) construction
  circle A9 centre (-37.5, 16) radius 2
  circle A10 centre (-37.5, -16) radius 2
  circle A11 centre (37.5, 16) radius 2
  circle A12 centre (37.5, -16) radius 2
  point P0 (-37.5, 0)
  point P1 (37.5, 0)
  dimension "d60" = 5
  dimension "d61" = 20
  dimension "d62" = 5
  dimension "d63" = 20
  dimension "d64" = 5
  dimension "d65" = 5
  dimension "d66" = 4
  dimension "d67" = 4
  dimension "d68" = 4
  dimension "d69" = 4
  dimension "d70" = 6
  dimension "d71" = 6
  dimension "d72" = 6
  dimension "d73" = 6
extrude "Extrusion11" cut sketch "Sketch10" against normal blind 10
sketch "Sketch11" plane through (0, 0, 5) normal (0, 0, 1) x (1, 0, 0)
  line L0 (-35, 10) -> (-35, -10) construction
  line L1 (-35, -10) -> (-40, -10) construction
  line L2 (-40, -10) -> (-40, 10) construction
  line L3 (-40, 10) -> (-35, 10) construction
  circle A0 centre (37.5, 16) radius 2 construction
  circle A1 centre (-37.5, 16) radius 2 construction
  circle A2 centre (-37.5, -16) radius 2 construction
  circle A3 centre (37.5, -16) radius 2 construction
  line L4 (40, 10) -> (40, -10) construction
  line L5 (40, -10) -> (35, -10) construction
  line L6 (35, -10) -> (35, 10) construction
  line L7 (35, 10) -> (40, 10) construction
  circle A4 centre (18.25, 0) radius 2.5 construction
  circle A5 centre (-18.25, 0) radius 2.5 construction
  circle A6 centre (-91, 0) radius 3 construction
  circle A7 centre (-59, 0) radius 3 construction
  circle A8 centre (59, 0) radius 3 construction
  circle A9 centre (91, 0) radius 3 construction
  circle A10 centre (-75, 0) radius 4 construction
  circle A11 centre (75, 0) radius 4 construction
  circle A12 centre (0, 0) radius 4 construction
  line L8 (-85, -30) -> (-85, -25) construction
  line L9 (-85, -25) -> (-77, -25) construction
  line L10 (-77, -25) -> (-77, -22) construction
  line L11 (-77, -22) -> (-79, -22) construction
  line L12 (-79, -22) -> (-79, -18) construction
  line L13 (-79, -18) -> (-77, -18) construction
  line L14 (-77, -18) -> (-77, -15) construction
  line L15 (-77, -15) -> (-73, -15) construction
  line L16 (-73, -15) -> (-73, -18) construction
  line L17 (-73, -18) -> (-71, -18) construction
  line L18 (-71, -18) -> (-71, -22) construction
  line L19 (-71, -22) -> (-73, -22) construction
  line L20 (-73, -22) -> (-73, -25) construction
  line L21 (-73, -25) -> (-65, -25) construction
  line L22 (-65, -25) -> (-65, -30) construction
  line L23 (-45, -30) -> (-65, -30) construction
  line L24 (-45, -25) -> (-45, -30) construction
  line L25 (45, -25) -> (-45, -25) construction
  line L26 (45, -25) -> (45, -30) construction
  line L27 (65, -30) -> (45, -30) construction
  line L28 (65, -30) -> (65, -25) construction
  line L29 (65, -25) -> (73, -25) construction
  line L30 (73, -25) -> (73, -22) construction
  line L31 (73, -22) -> (71, -22) construction
  line L32 (71, -22) -> (71, -18) construction
  line L33 (71, -18) -> (73, -18) construction
  line L34 (73, -18) -> (73, -15) construction
  line L35 (73, -15) -> (77, -15) construction
  line L36 (77, -15) -> (77, -18) construction
  line L37 (77, -18) -> (79, -18) construction
  line L38 (79, -18) -> (79, -22) construction
  line L39 (79, -22) -> (77, -22) construction
  line L40 (77, -22) -> (77, -25) construction
  line L41 (77, -25) -> (85, -25) construction
  line L42 (85, -25) -> (85, -30) construction
  line L43 (105, -30) -> (85, -30) construction
  line L44 (105, -25) -> (105, -30) construction
  line L45 (113, -25) -> (105, -25) construction
  line L46 (113, -25) -> (113, -22) construction
  line L47 (113, -22) -> (111, -22) construction
  line L48 (111, -22) -> (111, -18) construction
  line L49 (111, -18) -> (113, -18) construction
  line L50 (113, -18) -> (113, -15) construction
  line L51 (113, -15) -> (117, -15) construction
  line L52 (117, -15) -> (117, -18) construction
  line L53 (117, -18) -> (119, -18) construction
  line L54 (119, -18) -> (119, -22) construction
  line L55 (119, -22) -> (117, -22) construction
  line L56 (117, -22) -> (117, -25) construction
  line L57 (130, -25) -> (117, -25) construction
  line L58 (130, -25) -> (130, 25) construction
  line L59 (130, 25) -> (105, 25) construction
  line L60 (105, 25) -> (105, 30) construction
  line L61 (105, 30) -> (45, 30) construction
  line L62 (45, 25) -> (45, 30) construction
  line L63 (45, 25) -> (-45, 25) construction
  line L64 (-45, 25) -> (-45, 30) construction
  line L65 (-45, 30) -> (-105, 30) construction
  line L66 (-105, 25) -> (-105, 30) construction
  line L67 (-105, 25) -> (-130, 25) construction
  line L68 (-130, 25) -> (-130, -25) construction
  line L69 (-117, -25) -> (-130, -25) construction
  line L70 (-117, -25) -> (-117, -22) construction
  line L71 (-117, -22) -> (-119, -22) construction
  line L72 (-119, -22) -> (-119, -18) construction
  line L73 (-119, -18) -> (-117, -18) construction
  line L74 (-117, -18) -> (-117, -15) construction
  line L75 (-117, -15) -> (-113, -15) construction
  line L76 (-113, -15) -> (-113, -18) construction
  line L77 (-113, -18) -> (-111, -18) construction
  line L78 (-111, -18) -> (-111, -22) construction
  line L79 (-111, -22) -> (-113, -22) construction
  line L80 (-113, -22) -> (-113, -25) construction
  line L81 (-105, -25) -> (-113, -25) construction
  line L82 (-105, -25) -> (-105, -30) construction
  line L83 (-85, -30) -> (-105, -30) construction
  line L84 (-130, 15) -> (-133.5, 15)
  line L85 (-133.5, 15) -> (-133.5, -10)
  line L86 (-133.5, -10) -> (-130, -10)
  line L87 (-130, -10) -> (-130, 15)
  line L88 (45, 25) -> (-45, 25) construction
  line L89 (0, 25) -> (0, -25) construction
  line L90 (45, -25) -> (-45, -25) construction
  line L91 (130, 15) -> (133.5, 15)
  line L92 (133.5, 15) -> (133.5, -10)
  line L93 (133.5, -10) -> (130, -10)
  line L94 (130, -10) -> (130, 15)
  dimension "d76" = 3.5
  dimension "d77" = 25
  dimension "d78" = 10
extrude "Extrusion12" add sketch "Sketch11" against normal blind 5
properties part number "Soporte_Opuesto"
